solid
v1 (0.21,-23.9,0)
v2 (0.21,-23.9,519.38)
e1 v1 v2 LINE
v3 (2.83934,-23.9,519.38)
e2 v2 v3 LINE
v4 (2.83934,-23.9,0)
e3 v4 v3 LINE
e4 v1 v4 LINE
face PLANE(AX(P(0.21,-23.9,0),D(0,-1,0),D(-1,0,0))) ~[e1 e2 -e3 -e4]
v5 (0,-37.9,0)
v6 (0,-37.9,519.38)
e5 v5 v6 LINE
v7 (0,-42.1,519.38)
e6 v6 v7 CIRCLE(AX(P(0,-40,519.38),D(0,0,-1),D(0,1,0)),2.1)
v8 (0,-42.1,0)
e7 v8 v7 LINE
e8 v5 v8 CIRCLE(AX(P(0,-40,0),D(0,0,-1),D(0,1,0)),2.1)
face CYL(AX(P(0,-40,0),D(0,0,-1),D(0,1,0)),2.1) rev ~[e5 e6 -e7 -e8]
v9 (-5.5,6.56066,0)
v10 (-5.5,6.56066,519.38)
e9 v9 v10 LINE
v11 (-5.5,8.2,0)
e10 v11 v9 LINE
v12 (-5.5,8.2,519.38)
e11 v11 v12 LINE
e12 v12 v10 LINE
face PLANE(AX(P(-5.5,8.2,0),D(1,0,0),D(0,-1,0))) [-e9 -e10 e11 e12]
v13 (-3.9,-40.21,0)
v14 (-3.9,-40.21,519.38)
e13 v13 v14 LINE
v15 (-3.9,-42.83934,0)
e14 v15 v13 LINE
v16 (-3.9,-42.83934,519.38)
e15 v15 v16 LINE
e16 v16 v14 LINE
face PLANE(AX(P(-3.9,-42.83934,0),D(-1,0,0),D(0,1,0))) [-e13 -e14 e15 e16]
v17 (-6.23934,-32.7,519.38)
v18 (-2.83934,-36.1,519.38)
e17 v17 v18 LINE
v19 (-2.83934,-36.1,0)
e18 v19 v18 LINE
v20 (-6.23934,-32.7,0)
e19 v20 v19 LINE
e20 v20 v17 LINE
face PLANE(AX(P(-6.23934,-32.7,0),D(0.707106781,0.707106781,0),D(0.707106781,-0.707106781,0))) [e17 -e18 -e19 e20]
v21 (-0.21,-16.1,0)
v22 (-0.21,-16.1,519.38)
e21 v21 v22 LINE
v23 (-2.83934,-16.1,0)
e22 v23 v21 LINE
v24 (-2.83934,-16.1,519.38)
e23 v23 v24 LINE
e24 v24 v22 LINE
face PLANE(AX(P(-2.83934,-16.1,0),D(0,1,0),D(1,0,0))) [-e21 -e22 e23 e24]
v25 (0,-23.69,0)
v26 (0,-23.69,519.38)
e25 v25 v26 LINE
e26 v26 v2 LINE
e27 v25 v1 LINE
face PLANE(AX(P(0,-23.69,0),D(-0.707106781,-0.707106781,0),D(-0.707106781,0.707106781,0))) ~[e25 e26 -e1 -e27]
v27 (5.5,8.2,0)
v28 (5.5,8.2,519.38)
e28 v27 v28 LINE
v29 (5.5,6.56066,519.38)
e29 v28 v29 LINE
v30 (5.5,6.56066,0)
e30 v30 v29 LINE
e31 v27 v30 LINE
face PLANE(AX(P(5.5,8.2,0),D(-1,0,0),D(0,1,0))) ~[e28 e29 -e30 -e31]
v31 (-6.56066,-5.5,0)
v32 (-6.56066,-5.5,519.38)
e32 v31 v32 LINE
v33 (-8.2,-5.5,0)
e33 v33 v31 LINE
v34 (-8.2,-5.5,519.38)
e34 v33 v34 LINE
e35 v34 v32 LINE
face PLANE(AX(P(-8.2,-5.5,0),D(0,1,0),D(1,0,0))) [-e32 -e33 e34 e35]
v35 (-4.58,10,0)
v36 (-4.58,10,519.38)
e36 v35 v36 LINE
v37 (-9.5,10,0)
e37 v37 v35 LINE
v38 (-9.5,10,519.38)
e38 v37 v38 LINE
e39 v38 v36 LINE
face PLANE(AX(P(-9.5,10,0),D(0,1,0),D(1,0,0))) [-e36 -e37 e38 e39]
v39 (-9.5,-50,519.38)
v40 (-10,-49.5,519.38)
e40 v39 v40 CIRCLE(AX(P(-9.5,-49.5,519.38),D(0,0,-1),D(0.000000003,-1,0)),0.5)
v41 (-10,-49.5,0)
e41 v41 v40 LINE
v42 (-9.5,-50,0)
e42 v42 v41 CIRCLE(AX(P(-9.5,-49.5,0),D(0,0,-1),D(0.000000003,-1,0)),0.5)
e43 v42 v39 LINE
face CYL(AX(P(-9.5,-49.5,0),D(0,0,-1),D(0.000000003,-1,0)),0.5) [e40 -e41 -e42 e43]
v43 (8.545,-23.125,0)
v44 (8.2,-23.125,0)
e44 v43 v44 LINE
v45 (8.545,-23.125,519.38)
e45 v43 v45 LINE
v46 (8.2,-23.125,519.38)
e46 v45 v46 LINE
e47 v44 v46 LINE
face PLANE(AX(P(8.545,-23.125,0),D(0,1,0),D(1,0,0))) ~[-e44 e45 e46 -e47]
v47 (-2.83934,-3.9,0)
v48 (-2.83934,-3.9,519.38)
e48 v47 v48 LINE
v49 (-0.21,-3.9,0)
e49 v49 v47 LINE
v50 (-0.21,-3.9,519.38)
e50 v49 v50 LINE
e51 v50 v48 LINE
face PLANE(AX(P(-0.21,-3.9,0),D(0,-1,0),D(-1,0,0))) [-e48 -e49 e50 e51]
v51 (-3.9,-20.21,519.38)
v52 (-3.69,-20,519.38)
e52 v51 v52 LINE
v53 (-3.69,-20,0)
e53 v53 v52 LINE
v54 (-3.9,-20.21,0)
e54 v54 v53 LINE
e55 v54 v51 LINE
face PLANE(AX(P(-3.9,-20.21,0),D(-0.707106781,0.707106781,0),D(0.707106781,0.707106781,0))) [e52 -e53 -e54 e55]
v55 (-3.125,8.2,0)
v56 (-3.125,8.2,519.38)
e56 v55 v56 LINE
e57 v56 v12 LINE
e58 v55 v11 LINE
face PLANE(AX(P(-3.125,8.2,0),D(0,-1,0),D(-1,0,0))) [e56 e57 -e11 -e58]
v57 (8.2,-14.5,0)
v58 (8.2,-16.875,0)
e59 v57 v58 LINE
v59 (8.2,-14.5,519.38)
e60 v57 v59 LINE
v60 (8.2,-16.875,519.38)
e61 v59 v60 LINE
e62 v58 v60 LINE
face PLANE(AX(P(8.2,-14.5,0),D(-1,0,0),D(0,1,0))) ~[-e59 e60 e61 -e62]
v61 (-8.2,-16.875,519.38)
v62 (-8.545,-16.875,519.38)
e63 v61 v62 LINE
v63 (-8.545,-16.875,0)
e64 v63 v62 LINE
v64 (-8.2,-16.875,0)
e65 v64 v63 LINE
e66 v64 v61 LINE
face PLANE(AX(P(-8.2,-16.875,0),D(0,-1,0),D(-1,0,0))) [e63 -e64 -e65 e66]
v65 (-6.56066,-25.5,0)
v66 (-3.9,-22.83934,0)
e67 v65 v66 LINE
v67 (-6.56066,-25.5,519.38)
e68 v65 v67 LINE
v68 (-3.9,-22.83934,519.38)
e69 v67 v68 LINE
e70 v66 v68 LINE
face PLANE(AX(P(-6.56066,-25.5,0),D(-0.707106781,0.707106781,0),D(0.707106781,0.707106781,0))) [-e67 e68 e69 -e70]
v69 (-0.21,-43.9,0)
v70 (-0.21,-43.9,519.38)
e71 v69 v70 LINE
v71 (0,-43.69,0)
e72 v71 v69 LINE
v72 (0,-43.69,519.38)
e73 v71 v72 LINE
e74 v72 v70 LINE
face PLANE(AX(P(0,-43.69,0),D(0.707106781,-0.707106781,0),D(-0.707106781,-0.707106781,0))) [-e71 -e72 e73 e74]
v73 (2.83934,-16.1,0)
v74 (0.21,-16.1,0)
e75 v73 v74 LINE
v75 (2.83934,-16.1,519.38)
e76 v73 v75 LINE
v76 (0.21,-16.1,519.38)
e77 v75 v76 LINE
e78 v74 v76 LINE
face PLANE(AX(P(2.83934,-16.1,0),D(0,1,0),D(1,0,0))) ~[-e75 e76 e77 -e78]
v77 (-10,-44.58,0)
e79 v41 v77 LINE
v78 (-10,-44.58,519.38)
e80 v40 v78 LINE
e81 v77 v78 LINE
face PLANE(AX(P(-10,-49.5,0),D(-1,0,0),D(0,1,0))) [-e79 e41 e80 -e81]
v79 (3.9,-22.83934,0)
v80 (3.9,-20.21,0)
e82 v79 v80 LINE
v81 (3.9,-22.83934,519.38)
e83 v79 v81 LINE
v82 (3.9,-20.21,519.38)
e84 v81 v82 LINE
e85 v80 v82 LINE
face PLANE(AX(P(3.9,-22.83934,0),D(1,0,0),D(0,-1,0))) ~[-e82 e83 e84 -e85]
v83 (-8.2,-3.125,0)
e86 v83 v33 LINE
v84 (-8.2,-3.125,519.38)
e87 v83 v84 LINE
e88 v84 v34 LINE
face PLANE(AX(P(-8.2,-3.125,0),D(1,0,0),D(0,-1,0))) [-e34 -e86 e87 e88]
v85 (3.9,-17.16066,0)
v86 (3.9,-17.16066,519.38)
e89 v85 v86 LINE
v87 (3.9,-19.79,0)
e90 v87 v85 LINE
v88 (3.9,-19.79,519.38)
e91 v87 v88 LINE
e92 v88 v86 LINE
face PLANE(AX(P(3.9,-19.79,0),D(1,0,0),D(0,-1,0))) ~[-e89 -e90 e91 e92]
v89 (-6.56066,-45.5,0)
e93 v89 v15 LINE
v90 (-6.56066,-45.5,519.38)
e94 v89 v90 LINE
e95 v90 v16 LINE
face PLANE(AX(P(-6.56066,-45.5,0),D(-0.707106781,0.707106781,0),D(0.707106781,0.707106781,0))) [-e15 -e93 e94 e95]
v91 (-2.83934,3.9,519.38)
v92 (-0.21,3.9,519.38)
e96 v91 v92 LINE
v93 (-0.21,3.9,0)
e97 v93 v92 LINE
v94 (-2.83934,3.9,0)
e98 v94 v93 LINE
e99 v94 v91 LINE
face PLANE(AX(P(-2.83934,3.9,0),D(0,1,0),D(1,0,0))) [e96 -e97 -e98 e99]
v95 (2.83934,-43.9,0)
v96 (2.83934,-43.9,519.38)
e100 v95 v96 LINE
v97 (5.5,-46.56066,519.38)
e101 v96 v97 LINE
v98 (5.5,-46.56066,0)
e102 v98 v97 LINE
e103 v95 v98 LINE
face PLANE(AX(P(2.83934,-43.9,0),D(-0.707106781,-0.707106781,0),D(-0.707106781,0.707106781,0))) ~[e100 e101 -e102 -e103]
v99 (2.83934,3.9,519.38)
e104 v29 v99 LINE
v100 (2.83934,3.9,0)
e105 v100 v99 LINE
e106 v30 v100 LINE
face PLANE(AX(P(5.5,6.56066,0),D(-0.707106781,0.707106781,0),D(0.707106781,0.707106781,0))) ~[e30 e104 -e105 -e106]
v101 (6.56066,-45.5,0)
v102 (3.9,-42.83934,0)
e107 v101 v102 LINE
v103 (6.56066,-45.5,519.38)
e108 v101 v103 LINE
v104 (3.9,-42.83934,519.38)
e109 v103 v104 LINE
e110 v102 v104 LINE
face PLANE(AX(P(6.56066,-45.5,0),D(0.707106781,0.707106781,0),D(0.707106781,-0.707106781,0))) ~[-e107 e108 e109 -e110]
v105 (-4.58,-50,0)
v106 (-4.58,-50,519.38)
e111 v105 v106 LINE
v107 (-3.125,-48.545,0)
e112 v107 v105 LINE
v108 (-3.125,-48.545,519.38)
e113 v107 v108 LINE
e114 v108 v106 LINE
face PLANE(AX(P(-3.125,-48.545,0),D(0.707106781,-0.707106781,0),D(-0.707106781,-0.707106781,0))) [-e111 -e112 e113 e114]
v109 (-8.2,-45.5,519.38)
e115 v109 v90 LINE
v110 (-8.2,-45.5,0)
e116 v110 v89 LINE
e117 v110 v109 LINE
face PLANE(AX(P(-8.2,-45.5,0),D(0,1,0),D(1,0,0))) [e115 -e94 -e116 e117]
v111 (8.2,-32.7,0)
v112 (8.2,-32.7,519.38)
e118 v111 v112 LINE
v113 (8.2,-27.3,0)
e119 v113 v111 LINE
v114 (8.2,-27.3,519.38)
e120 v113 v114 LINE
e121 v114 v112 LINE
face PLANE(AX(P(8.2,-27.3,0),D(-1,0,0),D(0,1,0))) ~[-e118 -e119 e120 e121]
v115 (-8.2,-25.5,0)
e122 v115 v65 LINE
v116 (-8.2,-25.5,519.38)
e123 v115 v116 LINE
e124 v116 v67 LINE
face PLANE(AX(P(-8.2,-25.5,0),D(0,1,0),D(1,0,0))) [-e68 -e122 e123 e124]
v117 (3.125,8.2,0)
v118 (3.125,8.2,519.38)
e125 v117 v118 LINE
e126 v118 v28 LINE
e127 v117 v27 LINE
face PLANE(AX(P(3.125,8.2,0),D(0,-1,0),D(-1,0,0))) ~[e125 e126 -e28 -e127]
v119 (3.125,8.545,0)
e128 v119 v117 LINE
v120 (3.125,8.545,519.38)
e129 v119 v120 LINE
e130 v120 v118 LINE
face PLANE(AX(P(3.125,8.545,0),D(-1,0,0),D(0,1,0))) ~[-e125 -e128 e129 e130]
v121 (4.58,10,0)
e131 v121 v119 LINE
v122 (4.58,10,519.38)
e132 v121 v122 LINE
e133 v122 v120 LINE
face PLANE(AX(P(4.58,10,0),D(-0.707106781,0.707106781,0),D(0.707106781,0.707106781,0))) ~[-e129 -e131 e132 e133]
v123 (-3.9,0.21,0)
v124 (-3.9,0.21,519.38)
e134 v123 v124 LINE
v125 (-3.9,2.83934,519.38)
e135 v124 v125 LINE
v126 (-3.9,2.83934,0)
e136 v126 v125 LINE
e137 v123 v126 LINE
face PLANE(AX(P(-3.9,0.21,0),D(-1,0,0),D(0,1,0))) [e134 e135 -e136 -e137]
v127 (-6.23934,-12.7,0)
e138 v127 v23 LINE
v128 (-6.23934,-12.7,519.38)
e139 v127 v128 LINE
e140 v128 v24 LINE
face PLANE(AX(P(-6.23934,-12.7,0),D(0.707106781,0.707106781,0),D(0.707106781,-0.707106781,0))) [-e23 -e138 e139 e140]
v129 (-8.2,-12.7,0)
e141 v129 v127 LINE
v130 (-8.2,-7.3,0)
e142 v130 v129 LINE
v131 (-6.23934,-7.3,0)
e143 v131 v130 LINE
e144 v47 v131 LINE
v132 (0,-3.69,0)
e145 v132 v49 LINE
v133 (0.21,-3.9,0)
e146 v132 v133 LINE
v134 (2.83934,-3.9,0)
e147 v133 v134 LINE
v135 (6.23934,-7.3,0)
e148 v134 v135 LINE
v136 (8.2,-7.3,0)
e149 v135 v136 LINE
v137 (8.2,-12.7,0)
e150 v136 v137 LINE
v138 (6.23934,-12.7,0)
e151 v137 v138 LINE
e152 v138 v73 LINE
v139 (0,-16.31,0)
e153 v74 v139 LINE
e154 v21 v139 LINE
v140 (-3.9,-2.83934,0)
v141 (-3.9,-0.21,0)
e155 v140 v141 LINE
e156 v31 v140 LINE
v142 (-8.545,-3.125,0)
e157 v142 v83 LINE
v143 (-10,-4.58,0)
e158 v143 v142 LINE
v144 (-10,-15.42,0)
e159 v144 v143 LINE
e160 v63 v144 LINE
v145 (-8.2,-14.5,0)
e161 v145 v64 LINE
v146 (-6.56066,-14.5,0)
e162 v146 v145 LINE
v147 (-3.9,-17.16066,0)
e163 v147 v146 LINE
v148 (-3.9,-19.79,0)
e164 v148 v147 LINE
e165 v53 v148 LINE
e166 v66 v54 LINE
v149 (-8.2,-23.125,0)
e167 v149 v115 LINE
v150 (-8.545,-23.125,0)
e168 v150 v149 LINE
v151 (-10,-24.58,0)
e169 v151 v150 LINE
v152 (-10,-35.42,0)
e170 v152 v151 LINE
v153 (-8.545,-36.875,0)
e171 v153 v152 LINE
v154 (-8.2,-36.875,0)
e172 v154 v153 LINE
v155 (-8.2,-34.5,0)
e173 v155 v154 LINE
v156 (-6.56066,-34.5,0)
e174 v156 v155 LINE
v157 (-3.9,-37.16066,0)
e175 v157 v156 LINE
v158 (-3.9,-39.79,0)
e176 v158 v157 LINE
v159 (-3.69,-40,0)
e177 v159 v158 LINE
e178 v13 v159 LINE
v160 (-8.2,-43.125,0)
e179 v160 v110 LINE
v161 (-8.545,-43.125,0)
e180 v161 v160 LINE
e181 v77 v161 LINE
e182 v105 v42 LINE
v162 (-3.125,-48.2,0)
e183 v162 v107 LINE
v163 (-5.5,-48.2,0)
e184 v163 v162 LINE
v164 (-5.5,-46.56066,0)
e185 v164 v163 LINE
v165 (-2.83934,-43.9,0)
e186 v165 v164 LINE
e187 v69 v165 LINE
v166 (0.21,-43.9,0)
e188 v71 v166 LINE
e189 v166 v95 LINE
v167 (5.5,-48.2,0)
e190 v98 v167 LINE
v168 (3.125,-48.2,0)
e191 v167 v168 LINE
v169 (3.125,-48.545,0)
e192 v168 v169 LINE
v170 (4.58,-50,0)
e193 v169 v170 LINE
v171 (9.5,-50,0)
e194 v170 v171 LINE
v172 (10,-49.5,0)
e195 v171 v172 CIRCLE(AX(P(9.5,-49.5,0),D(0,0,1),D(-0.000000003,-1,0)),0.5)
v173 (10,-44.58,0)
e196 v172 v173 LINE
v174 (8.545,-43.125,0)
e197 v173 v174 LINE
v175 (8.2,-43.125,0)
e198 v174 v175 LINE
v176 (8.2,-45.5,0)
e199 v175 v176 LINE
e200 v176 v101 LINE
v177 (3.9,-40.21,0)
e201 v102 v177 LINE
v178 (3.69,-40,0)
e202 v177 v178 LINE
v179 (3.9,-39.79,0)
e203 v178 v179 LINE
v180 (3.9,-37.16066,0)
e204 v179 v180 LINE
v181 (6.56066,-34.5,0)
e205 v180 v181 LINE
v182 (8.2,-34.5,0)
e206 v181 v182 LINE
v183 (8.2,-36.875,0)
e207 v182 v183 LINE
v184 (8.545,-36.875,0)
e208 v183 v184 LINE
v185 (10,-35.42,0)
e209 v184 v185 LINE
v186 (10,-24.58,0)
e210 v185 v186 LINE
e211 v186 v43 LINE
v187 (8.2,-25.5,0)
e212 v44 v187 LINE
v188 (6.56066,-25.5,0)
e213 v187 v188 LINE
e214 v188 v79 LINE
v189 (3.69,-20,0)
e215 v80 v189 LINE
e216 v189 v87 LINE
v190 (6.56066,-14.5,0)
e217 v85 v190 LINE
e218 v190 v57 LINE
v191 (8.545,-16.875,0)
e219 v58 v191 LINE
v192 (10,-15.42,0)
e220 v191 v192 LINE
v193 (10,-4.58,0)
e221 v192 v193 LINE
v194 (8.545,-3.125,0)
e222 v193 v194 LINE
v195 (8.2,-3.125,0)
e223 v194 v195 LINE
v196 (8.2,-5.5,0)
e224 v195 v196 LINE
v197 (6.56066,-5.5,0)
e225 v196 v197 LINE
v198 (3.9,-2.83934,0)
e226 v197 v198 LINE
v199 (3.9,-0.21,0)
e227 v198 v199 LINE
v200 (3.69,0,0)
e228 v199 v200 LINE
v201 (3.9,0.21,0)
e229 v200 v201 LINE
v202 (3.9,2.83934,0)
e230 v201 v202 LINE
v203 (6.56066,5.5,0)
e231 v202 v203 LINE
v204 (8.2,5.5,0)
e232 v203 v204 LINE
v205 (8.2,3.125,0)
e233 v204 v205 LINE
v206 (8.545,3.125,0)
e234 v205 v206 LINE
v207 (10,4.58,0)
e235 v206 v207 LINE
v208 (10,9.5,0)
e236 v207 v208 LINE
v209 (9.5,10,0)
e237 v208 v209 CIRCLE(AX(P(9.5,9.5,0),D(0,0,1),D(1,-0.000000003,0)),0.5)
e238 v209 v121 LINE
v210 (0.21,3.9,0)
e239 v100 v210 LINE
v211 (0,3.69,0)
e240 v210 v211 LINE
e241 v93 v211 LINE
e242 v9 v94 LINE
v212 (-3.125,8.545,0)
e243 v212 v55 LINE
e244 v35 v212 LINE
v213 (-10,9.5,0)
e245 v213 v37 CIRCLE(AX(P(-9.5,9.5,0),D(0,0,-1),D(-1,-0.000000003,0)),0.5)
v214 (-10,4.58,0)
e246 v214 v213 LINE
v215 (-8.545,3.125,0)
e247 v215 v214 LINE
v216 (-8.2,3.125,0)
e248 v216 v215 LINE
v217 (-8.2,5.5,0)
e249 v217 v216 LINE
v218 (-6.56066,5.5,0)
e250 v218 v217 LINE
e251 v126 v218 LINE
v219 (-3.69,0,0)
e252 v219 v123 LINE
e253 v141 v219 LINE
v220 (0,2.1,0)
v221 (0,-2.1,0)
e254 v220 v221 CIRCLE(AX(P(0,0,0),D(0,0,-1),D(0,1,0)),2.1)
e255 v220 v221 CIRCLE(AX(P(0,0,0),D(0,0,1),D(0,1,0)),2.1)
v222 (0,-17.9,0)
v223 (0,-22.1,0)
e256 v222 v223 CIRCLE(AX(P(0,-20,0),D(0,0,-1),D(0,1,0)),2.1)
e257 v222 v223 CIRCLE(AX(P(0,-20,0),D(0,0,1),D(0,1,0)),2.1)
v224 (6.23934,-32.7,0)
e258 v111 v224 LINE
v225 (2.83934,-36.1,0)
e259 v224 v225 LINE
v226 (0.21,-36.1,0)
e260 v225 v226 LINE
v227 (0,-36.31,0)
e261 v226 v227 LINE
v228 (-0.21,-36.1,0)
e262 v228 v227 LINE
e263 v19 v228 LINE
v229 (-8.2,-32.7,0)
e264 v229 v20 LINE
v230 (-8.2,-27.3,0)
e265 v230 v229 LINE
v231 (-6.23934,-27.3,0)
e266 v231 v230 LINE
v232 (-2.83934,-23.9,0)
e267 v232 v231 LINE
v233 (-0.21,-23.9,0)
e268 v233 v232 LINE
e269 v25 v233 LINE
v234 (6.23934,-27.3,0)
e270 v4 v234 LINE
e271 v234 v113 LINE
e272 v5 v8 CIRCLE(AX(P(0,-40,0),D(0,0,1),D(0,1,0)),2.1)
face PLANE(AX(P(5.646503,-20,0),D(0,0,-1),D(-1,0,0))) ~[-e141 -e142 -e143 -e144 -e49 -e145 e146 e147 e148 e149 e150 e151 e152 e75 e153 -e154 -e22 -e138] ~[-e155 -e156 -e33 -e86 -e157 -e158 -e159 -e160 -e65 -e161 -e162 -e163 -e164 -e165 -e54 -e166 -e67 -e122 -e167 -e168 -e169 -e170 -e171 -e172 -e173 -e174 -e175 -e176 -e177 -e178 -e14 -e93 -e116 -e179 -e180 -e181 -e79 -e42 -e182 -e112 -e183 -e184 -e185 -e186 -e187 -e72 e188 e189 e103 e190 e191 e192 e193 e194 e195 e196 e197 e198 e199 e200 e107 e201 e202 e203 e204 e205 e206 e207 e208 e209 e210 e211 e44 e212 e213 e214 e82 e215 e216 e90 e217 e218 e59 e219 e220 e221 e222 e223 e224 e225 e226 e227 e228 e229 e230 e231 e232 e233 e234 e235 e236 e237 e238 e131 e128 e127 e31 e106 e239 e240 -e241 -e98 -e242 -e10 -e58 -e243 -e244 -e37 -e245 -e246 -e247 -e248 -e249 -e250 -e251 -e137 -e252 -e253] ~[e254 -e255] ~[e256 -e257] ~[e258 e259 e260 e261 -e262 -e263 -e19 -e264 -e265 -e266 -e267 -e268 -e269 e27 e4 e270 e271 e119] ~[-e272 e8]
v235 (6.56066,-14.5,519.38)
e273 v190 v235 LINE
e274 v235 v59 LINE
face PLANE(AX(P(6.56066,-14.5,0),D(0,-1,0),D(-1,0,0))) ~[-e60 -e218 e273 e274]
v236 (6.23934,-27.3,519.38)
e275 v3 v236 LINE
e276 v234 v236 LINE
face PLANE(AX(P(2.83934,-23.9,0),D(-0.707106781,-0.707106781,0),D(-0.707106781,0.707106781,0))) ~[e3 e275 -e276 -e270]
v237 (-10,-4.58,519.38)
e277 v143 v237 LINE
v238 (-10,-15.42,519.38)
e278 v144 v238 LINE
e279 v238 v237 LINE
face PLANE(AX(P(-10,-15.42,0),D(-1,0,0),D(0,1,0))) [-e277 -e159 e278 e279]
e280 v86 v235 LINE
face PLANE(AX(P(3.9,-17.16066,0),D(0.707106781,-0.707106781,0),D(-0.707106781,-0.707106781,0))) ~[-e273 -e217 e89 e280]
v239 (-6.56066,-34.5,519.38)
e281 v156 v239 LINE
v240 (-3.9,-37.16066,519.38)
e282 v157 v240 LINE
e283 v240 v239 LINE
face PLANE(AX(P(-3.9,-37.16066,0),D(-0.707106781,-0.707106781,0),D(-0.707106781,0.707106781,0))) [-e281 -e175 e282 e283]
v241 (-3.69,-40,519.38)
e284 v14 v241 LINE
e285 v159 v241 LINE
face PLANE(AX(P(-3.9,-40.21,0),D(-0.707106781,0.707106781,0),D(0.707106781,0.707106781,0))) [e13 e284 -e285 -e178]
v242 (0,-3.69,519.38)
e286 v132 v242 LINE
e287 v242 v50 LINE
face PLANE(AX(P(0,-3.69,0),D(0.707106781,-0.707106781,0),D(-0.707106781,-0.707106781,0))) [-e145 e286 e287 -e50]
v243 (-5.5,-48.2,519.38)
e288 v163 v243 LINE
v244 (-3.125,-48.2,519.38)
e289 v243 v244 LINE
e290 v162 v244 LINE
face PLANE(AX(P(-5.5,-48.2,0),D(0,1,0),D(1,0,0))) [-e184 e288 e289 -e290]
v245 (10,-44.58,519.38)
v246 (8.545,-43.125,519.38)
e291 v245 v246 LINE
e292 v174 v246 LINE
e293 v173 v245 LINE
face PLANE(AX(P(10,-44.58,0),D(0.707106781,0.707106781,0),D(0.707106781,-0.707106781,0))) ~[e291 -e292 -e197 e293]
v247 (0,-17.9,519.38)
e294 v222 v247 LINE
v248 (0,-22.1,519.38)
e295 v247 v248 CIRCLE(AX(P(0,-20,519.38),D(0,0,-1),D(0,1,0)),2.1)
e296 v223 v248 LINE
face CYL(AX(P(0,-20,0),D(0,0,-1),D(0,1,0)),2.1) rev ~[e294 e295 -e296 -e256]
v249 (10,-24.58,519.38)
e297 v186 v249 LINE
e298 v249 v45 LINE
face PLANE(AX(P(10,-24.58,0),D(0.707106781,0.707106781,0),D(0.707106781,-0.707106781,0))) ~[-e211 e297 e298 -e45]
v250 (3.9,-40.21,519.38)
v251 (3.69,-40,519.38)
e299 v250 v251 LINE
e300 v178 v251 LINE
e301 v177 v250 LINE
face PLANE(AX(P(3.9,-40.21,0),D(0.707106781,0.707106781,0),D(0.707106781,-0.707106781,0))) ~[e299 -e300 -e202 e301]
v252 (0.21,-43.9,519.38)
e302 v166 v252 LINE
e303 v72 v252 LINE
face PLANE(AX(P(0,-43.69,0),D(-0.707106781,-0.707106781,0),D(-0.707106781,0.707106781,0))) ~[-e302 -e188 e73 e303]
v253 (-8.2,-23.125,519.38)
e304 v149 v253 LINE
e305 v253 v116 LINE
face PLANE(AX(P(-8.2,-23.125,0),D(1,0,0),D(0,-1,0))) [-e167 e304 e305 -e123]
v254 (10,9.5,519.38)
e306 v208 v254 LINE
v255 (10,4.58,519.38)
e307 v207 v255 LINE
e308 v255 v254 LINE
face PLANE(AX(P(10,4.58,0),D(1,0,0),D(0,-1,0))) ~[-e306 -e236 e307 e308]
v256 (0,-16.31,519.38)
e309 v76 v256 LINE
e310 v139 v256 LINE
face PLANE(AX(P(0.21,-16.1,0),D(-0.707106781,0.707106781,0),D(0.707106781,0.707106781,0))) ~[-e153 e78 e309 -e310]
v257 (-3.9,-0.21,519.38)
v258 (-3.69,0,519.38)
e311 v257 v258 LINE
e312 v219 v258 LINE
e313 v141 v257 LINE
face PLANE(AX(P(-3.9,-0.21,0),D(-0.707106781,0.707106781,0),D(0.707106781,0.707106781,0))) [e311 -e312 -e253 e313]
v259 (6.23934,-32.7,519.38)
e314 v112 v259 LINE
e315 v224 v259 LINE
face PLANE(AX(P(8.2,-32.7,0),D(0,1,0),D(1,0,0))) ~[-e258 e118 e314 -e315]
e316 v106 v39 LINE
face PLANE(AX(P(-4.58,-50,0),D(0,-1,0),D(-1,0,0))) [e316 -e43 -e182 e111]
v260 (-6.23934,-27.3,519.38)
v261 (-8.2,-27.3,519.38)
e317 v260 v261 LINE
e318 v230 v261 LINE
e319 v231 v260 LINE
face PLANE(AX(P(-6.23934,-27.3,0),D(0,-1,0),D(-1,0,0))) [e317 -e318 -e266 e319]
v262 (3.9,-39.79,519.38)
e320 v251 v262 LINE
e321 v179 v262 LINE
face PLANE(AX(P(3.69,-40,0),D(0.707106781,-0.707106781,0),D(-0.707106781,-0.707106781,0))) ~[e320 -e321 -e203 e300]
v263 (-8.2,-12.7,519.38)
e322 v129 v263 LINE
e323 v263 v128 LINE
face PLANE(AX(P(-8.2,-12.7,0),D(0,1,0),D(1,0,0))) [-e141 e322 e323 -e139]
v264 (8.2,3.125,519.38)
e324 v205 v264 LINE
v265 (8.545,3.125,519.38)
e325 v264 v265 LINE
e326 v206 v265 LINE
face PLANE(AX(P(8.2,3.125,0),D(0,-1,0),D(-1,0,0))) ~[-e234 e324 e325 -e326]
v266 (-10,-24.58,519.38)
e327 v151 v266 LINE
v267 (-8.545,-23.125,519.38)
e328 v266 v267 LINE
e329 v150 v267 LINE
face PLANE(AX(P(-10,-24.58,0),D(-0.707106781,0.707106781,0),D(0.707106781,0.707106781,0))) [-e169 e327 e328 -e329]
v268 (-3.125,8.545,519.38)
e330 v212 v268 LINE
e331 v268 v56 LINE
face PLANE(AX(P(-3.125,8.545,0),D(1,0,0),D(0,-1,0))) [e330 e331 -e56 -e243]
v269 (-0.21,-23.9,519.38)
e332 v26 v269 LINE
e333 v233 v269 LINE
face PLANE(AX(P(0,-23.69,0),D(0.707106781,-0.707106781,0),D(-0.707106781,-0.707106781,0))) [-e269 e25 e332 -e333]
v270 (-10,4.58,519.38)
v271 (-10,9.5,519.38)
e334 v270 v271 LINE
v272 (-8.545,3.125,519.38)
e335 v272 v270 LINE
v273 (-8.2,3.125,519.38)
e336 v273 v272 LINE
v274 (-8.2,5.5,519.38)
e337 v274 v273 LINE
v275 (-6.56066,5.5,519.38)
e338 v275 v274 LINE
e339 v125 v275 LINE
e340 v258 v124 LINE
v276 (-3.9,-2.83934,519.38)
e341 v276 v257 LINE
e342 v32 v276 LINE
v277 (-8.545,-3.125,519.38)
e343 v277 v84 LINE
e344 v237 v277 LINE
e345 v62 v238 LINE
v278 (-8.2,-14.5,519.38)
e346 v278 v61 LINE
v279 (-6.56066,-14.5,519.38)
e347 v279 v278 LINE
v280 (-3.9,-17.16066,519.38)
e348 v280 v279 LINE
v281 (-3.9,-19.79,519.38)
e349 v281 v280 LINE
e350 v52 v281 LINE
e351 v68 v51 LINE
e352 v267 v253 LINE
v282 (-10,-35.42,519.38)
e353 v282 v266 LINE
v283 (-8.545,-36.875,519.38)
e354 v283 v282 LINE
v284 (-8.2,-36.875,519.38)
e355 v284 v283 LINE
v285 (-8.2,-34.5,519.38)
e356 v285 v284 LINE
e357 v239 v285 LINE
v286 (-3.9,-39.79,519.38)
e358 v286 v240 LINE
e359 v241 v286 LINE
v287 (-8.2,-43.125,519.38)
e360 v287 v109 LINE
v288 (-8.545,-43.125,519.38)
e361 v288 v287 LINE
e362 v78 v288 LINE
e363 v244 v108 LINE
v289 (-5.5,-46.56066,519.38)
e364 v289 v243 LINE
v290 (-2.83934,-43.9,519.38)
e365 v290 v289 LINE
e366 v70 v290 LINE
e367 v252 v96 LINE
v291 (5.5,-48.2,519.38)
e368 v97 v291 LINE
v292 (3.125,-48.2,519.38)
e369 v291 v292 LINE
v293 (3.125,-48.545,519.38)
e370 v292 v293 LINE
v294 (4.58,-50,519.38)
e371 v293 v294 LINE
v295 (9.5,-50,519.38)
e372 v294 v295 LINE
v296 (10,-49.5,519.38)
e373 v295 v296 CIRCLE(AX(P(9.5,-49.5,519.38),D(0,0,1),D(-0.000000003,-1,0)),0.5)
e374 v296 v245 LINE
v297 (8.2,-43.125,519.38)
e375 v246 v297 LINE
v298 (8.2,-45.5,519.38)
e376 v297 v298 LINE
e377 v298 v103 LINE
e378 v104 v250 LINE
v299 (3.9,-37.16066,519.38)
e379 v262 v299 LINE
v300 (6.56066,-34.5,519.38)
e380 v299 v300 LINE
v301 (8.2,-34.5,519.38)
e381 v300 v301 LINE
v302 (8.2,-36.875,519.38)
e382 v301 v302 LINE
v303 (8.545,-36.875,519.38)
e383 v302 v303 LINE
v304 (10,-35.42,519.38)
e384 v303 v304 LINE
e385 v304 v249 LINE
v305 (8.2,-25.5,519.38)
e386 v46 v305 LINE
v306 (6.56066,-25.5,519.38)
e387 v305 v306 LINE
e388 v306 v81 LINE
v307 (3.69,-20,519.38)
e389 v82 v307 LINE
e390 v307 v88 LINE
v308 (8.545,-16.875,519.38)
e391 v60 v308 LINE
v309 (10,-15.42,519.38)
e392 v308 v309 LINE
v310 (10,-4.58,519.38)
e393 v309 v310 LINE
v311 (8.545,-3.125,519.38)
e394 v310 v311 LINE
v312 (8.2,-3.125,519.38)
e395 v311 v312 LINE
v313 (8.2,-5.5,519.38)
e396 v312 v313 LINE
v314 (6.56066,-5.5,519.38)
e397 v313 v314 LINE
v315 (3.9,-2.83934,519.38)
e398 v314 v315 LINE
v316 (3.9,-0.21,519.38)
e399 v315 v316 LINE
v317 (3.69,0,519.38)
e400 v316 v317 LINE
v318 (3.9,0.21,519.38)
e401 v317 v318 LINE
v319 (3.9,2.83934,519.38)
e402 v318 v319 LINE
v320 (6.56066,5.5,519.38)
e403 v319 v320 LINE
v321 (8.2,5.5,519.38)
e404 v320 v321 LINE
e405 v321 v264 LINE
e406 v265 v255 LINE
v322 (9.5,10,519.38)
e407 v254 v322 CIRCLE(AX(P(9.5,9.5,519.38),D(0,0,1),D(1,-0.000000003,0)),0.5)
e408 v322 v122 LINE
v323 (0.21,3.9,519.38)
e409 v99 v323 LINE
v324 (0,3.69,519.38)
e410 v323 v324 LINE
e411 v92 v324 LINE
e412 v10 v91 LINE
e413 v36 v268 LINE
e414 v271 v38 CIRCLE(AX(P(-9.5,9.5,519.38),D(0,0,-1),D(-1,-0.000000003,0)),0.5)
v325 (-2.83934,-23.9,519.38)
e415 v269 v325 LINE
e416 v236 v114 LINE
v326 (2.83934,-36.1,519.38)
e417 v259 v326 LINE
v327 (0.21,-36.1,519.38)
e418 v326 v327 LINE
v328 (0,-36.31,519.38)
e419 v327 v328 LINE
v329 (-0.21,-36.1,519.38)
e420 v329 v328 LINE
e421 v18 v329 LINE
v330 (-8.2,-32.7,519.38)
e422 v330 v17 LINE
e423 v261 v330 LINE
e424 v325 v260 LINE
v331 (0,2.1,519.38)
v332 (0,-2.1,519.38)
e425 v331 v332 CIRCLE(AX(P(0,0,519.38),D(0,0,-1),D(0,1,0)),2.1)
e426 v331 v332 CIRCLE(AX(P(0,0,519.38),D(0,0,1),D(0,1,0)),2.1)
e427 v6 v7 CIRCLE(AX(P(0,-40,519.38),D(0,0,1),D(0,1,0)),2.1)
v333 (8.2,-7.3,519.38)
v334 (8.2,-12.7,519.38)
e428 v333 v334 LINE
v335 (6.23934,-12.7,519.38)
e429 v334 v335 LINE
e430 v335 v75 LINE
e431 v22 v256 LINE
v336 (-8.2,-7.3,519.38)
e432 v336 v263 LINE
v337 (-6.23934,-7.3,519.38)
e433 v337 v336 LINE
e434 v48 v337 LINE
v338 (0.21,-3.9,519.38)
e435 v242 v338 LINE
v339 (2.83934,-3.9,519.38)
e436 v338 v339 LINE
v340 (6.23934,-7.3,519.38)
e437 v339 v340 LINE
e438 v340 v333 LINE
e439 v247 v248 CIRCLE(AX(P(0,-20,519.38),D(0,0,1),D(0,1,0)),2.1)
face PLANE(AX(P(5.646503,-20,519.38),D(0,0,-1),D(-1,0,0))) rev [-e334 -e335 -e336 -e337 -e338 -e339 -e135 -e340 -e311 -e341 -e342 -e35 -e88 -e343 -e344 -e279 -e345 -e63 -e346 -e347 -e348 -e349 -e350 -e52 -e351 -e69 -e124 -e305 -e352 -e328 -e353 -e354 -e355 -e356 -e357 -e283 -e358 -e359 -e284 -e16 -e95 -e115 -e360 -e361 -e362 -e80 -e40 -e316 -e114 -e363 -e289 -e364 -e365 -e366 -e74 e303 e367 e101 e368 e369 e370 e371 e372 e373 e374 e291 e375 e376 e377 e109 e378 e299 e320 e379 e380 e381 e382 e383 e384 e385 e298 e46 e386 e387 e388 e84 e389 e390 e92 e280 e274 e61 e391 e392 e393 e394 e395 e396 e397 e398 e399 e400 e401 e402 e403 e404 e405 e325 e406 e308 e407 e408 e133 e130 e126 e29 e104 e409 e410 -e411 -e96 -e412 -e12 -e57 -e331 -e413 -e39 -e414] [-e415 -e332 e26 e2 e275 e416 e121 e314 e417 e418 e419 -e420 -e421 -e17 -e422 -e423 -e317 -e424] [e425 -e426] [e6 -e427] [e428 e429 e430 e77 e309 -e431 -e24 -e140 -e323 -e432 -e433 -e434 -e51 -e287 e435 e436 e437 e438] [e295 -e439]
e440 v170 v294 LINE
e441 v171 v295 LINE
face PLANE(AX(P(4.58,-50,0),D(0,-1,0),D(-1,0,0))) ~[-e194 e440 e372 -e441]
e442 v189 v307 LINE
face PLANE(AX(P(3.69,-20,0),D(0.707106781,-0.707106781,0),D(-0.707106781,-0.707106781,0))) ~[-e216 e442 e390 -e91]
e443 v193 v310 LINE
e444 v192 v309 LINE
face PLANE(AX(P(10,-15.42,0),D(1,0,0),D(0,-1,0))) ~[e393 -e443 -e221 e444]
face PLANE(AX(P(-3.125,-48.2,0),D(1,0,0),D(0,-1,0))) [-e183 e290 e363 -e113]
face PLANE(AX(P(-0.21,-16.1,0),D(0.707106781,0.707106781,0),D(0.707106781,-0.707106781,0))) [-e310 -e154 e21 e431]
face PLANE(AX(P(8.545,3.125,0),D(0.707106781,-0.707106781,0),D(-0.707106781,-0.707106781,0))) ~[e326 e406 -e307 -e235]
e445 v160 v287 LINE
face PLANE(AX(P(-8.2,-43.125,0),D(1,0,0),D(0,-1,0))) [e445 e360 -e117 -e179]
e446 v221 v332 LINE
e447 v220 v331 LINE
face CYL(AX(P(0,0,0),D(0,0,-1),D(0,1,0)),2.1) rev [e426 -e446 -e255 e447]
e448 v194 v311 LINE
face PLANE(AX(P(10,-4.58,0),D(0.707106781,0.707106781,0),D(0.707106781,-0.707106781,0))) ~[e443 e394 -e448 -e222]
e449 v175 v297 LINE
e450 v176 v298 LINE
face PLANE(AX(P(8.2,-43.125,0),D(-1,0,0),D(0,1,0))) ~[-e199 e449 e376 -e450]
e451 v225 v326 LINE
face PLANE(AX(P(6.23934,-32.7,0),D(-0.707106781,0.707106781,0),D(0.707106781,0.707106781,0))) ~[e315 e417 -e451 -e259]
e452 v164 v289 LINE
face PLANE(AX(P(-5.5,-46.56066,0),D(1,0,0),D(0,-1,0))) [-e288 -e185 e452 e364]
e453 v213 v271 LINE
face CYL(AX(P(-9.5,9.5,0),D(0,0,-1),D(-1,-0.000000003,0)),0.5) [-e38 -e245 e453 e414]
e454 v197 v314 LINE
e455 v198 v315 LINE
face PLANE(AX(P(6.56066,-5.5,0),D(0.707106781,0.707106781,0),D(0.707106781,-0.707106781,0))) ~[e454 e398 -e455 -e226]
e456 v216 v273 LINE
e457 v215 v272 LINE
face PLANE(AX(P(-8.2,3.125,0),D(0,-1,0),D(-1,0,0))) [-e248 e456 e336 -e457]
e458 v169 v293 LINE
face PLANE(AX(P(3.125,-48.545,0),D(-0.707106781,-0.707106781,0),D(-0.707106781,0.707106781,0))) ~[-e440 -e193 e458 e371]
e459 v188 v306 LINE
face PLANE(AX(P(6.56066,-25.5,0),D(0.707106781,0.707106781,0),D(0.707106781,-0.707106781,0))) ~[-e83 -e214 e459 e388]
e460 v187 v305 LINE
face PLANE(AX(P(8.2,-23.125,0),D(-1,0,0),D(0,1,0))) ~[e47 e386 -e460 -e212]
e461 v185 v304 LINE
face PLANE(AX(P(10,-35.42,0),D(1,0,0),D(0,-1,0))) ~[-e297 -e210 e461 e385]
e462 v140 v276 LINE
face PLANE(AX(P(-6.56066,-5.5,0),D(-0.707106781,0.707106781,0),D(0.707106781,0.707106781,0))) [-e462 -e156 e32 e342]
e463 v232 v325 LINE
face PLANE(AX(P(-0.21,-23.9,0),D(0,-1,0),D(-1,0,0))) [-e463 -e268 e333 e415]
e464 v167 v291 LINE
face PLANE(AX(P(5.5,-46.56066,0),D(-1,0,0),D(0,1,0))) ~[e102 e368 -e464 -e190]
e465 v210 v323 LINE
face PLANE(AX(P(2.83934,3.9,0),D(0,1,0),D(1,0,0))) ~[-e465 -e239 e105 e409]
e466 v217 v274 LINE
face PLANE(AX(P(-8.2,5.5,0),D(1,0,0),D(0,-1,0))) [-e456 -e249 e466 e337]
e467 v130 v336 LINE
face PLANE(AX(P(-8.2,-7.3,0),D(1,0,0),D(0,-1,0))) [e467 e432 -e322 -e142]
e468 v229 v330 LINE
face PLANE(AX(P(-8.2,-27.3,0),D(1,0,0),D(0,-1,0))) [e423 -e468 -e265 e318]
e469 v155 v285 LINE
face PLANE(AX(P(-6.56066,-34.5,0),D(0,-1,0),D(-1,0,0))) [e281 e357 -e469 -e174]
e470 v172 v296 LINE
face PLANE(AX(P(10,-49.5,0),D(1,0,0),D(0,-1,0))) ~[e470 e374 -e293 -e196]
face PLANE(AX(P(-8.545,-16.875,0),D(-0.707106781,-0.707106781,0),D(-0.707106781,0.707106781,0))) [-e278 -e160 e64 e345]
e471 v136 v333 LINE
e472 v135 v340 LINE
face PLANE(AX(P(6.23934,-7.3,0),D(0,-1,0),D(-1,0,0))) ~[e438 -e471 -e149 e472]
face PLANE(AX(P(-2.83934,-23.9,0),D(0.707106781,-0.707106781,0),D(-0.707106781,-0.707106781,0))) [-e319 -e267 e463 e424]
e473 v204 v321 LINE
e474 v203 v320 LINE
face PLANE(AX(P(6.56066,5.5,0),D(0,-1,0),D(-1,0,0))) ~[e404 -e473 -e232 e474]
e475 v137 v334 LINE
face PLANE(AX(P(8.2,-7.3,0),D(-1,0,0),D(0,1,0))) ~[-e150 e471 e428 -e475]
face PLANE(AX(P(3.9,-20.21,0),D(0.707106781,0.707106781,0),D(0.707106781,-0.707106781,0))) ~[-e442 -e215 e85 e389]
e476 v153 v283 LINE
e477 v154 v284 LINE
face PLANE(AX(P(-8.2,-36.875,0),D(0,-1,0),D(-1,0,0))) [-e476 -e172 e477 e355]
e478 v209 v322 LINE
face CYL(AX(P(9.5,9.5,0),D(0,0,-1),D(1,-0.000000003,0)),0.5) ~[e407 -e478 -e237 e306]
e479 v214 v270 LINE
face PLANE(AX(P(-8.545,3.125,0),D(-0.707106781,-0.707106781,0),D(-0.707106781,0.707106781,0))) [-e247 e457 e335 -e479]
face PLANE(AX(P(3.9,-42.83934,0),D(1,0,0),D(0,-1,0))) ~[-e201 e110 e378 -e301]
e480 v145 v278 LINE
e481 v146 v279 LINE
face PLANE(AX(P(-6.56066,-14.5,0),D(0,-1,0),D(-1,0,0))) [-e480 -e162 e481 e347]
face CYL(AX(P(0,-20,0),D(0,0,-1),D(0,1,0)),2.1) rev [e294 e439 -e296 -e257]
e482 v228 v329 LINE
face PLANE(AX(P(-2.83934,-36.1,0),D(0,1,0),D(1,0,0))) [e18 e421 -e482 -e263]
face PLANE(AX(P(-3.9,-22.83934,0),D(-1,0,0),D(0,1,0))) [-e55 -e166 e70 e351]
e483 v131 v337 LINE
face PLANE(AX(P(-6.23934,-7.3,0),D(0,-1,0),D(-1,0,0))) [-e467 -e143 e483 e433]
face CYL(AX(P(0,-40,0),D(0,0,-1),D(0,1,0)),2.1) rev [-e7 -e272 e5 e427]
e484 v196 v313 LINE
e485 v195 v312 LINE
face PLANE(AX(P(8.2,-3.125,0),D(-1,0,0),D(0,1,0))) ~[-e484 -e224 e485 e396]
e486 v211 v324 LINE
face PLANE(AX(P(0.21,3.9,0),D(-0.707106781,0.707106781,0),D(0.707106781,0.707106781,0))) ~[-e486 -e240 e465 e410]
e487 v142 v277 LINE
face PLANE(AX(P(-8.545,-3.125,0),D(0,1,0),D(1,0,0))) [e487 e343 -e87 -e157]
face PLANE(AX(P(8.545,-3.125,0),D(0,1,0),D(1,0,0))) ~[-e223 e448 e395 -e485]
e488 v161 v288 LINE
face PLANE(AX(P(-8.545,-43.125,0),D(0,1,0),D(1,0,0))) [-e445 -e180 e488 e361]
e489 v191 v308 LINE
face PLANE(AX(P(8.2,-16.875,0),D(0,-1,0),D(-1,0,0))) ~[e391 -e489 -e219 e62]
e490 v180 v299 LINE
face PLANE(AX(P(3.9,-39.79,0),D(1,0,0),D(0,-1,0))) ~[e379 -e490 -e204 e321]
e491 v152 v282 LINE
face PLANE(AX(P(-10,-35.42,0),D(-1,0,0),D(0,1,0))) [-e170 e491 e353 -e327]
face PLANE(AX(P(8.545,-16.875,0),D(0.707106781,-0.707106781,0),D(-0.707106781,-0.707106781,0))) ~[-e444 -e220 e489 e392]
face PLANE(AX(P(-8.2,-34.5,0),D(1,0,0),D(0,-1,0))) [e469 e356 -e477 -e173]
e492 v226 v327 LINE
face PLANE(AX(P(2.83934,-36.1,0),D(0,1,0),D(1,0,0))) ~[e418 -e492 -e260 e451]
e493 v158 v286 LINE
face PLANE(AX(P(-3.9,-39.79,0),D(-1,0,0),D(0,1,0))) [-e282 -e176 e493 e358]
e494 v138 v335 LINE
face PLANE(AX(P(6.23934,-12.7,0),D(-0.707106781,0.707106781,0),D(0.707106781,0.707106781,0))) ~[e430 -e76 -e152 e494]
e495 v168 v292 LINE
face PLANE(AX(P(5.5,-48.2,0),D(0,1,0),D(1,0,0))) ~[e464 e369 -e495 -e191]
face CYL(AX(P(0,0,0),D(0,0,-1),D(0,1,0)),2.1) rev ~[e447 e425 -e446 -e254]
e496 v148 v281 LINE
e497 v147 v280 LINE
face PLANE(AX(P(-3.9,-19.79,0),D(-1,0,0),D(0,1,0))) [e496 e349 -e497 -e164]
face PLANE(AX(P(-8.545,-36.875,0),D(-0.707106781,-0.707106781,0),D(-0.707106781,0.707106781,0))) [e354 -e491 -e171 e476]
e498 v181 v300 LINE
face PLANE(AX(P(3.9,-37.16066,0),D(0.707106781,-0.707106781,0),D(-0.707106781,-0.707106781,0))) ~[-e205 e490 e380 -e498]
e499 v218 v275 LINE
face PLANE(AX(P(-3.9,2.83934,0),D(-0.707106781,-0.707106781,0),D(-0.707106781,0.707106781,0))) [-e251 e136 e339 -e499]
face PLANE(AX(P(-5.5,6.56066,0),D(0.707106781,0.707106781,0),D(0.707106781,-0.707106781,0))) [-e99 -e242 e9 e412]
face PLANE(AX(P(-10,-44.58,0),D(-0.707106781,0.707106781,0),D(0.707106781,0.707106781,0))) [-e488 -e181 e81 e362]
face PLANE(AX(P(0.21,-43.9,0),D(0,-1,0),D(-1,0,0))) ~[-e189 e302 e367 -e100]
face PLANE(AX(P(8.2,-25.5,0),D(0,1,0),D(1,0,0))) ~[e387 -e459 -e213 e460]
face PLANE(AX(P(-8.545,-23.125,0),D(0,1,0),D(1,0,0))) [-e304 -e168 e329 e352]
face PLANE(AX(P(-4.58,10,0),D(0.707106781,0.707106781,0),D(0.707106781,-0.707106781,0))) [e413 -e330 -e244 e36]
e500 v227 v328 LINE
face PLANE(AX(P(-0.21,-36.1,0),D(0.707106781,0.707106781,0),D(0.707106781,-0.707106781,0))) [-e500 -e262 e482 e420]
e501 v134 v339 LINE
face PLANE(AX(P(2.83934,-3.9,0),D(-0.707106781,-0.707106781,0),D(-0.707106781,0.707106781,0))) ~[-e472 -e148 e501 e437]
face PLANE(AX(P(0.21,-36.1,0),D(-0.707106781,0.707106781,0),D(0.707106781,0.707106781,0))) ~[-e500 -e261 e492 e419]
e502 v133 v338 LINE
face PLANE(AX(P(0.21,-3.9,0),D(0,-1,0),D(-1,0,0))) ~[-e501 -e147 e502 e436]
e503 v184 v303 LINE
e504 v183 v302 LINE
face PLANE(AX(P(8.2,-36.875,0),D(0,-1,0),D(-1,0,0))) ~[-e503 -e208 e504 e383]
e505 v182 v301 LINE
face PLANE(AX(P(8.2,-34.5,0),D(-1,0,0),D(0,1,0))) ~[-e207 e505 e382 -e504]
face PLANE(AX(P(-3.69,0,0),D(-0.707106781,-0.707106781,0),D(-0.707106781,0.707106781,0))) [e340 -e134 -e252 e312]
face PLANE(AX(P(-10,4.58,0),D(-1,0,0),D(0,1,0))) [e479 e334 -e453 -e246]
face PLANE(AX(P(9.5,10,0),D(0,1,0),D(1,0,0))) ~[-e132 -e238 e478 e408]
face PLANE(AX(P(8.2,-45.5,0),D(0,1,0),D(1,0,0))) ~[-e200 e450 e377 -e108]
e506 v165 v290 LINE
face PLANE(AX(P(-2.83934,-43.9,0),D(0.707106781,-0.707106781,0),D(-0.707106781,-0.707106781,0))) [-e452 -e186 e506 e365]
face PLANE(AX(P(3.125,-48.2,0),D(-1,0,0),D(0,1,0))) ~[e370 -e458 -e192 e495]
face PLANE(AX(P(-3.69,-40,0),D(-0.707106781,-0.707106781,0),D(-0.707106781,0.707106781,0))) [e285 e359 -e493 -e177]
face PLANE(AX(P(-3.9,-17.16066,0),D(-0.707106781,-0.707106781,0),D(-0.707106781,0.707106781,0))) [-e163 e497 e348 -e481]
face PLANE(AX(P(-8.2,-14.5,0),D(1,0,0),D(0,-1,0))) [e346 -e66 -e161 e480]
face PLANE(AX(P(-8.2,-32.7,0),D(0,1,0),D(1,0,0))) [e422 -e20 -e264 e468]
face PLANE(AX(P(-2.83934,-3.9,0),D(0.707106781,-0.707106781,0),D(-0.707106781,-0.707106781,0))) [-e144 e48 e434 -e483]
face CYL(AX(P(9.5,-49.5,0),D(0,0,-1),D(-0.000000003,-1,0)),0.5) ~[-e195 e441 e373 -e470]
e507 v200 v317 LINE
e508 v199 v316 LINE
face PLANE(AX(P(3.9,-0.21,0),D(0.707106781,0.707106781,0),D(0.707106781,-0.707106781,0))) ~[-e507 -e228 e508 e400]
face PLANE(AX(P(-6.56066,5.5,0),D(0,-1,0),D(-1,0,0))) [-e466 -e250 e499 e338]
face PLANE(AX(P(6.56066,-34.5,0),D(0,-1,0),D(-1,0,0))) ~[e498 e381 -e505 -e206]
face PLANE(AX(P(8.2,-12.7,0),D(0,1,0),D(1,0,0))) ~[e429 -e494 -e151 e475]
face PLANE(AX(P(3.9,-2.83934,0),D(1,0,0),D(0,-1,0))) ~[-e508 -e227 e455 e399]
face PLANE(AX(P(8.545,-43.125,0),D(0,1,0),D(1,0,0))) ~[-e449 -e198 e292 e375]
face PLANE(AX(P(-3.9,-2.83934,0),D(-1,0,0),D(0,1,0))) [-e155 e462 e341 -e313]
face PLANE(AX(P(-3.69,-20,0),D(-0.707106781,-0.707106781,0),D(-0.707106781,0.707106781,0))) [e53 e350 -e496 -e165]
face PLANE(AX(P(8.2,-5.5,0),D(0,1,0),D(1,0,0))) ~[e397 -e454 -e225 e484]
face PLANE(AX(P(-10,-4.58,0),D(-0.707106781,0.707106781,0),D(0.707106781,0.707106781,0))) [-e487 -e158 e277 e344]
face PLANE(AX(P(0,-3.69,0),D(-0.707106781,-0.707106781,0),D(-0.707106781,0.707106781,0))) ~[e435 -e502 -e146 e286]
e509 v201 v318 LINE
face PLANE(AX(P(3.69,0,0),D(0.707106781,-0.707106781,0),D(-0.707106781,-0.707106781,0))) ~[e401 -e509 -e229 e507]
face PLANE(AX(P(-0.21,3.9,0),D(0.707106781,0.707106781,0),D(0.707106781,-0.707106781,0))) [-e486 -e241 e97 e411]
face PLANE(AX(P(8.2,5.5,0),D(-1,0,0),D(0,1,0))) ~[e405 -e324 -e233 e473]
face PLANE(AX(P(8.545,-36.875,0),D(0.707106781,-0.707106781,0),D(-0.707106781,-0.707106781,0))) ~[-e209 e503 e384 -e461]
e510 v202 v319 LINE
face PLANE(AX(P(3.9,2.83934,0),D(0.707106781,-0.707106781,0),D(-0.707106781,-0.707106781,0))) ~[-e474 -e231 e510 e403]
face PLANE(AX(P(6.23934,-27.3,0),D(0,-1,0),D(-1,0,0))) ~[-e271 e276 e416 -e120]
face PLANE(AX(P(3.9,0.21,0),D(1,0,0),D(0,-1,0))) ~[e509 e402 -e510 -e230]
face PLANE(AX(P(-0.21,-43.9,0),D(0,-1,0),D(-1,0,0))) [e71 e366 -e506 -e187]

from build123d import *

# Parameters (mm, degrees)
BOSS_EXTRU_1_DEPTH = 519.38


with BuildPart() as part:
    # Esquisse1 → Boss.-Extru.1 (new body)
    with BuildSketch(Plane.XY):
        with BuildLine():
            Line((-9.5, 10), (-4.58, 10))
            Line((-4.58, 10), (-3.125, 8.545))
            Line((-3.125, 8.545), (-3.125, 8.2))
            Line((-3.125, 8.2), (-5.5, 8.2))
            Line((-5.5, 8.2), (-5.5, 6.560660172))
            Line((-5.5, 6.560660172), (-2.839339828, 3.9))
            Line((-2.839339828, 3.9), (-0.21, 3.9))
            Line((-0.21, 3.9), (0, 3.69))
            Line((0, 3.69), (0, 2.1))
            ThreePointArc((0, 2.1), (-2.1, 0), (0, -2.1))
            Line((0, -2.1), (0, -3.69))
            Line((0, -3.69), (-0.21, -3.9))
            Line((-0.21, -3.9), (-2.839339828, -3.9))
            Line((-2.839339828, -3.9), (-6.239339828, -7.3))
            Line((-6.239339828, -7.3), (-8.2, -7.3))
            Line((-8.2, -7.3), (-8.2, -12.7))
            Line((-8.2, -12.7), (-6.239339828, -12.7))
            Line((-6.239339828, -12.7), (-2.839339828, -16.1))
            Line((-2.839339828, -16.1), (-0.21, -16.1))
            Line((-0.21, -16.1), (0, -16.31))
            Line((0, -16.31), (0, -17.9))
            ThreePointArc((0, -17.9), (-2.1, -20), (0, -22.1))
            Line((0, -22.1), (0, -23.69))
            Line((0, -23.69), (-0.21, -23.9))
            Line((-0.21, -23.9), (-2.839339828, -23.9))
            Line((-2.839339828, -23.9), (-6.239339828, -27.3))
            Line((-6.239339828, -27.3), (-8.2, -27.3))
            Line((-8.2, -27.3), (-8.2, -32.7))
            Line((-8.2, -32.7), (-6.239339828, -32.7))
            Line((-6.239339828, -32.7), (-2.839339828, -36.1))
            Line((-2.839339828, -36.1), (-0.21, -36.1))
            Line((-0.21, -36.1), (0, -36.31))
            Line((0, -36.31), (0, -37.9))
            ThreePointArc((0, -37.9), (-2.1, -40), (0, -42.1))
            Line((0, -42.1), (0, -43.69))
            Line((0, -43.69), (-0.21, -43.9))
            Line((-0.21, -43.9), (-2.839339828, -43.9))
            Line((-2.839339828, -43.9), (-5.5, -46.560660172))
            Line((-5.5, -46.560660172), (-5.5, -48.2))
            Line((-5.5, -48.2), (-3.125, -48.2))
            Line((-3.125, -48.2), (-3.125, -48.545))
            Line((-3.125, -48.545), (-4.58, -50))
            Line((-4.58, -50), (-9.5, -50))
            ThreePointArc((-9.5, -50), (-9.853553391, -49.853553391), (-10, -49.5))
            Line((-10, -49.5), (-10, -44.58))
            Line((-10, -44.58), (-8.545, -43.125))
            Line((-8.545, -43.125), (-8.2, -43.125))
            Line((-8.2, -43.125), (-8.2, -45.5))
            Line((-8.2, -45.5), (-6.560660172, -45.5))
            Line((-6.560660172, -45.5), (-3.9, -42.839339828))
            Line((-3.9, -42.839339828), (-3.9, -40.21))
            Line((-3.9, -40.21), (-3.69, -40))
            Line((-3.69, -40), (-3.9, -39.79))
            Line((-3.9, -39.79), (-3.9, -37.160660172))
            Line((-3.9, -37.160660172), (-6.560660172, -34.5))
            Line((-6.560660172, -34.5), (-8.2, -34.5))
            Line((-8.2, -34.5), (-8.2, -36.875))
            Line((-8.2, -36.875), (-8.545, -36.875))
            Line((-8.545, -36.875), (-10, -35.42))
            Line((-10, -35.42), (-10, -24.58))
            Line((-10, -24.58), (-8.545, -23.125))
            Line((-8.545, -23.125), (-8.2, -23.125))
            Line((-8.2, -23.125), (-8.2, -25.5))
            Line((-8.2, -25.5), (-6.560660172, -25.5))
            Line((-6.560660172, -25.5), (-3.9, -22.839339828))
            Line((-3.9, -22.839339828), (-3.9, -20.21))
            Line((-3.9, -20.21), (-3.69, -20))
            Line((-3.69, -20), (-3.9, -19.79))
            Line((-3.9, -19.79), (-3.9, -17.160660172))
            Line((-3.9, -17.160660172), (-6.560660172, -14.5))
            Line((-6.560660172, -14.5), (-8.2, -14.5))
            Line((-8.2, -14.5), (-8.2, -16.875))
            Line((-8.2, -16.875), (-8.545, -16.875))
            Line((-8.545, -16.875), (-10, -15.42))
            Line((-10, -15.42), (-10, -4.58))
            Line((-10, -4.58), (-8.545, -3.125))
            Line((-8.545, -3.125), (-8.2, -3.125))
            Line((-8.2, -3.125), (-8.2, -5.5))
            Line((-8.2, -5.5), (-6.560660172, -5.5))
            Line((-6.560660172, -5.5), (-3.9, -2.839339828))
            Line((-3.9, -2.839339828), (-3.9, -0.21))
            Line((-3.9, -0.21), (-3.69, 0))
            Line((-3.69, 0), (-3.9, 0.21))
            Line((-3.9, 0.21), (-3.9, 2.839339828))
            Line((-3.9, 2.839339828), (-6.560660172, 5.5))
            Line((-6.560660172, 5.5), (-8.2, 5.5))
            Line((-8.2, 5.5), (-8.2, 3.125))
            Line((-8.2, 3.125), (-8.545, 3.125))
            Line((-8.545, 3.125), (-10, 4.58))
            Line((-10, 4.58), (-10, 9.5))
            ThreePointArc((-10, 9.5), (-9.853553391, 9.853553391), (-9.5, 10))
        make_face()
    boss_extru_1 = extrude(amount=BOSS_EXTRU_1_DEPTH)

    # Symétrie1: Boss.-Extru.1 across plane
    add(boss_extru_1.mirror(Plane(origin=(0, 3.69, 519.38), x_dir=(0, 0, 1), z_dir=(-1, 0, 0))))


solid = part.part
